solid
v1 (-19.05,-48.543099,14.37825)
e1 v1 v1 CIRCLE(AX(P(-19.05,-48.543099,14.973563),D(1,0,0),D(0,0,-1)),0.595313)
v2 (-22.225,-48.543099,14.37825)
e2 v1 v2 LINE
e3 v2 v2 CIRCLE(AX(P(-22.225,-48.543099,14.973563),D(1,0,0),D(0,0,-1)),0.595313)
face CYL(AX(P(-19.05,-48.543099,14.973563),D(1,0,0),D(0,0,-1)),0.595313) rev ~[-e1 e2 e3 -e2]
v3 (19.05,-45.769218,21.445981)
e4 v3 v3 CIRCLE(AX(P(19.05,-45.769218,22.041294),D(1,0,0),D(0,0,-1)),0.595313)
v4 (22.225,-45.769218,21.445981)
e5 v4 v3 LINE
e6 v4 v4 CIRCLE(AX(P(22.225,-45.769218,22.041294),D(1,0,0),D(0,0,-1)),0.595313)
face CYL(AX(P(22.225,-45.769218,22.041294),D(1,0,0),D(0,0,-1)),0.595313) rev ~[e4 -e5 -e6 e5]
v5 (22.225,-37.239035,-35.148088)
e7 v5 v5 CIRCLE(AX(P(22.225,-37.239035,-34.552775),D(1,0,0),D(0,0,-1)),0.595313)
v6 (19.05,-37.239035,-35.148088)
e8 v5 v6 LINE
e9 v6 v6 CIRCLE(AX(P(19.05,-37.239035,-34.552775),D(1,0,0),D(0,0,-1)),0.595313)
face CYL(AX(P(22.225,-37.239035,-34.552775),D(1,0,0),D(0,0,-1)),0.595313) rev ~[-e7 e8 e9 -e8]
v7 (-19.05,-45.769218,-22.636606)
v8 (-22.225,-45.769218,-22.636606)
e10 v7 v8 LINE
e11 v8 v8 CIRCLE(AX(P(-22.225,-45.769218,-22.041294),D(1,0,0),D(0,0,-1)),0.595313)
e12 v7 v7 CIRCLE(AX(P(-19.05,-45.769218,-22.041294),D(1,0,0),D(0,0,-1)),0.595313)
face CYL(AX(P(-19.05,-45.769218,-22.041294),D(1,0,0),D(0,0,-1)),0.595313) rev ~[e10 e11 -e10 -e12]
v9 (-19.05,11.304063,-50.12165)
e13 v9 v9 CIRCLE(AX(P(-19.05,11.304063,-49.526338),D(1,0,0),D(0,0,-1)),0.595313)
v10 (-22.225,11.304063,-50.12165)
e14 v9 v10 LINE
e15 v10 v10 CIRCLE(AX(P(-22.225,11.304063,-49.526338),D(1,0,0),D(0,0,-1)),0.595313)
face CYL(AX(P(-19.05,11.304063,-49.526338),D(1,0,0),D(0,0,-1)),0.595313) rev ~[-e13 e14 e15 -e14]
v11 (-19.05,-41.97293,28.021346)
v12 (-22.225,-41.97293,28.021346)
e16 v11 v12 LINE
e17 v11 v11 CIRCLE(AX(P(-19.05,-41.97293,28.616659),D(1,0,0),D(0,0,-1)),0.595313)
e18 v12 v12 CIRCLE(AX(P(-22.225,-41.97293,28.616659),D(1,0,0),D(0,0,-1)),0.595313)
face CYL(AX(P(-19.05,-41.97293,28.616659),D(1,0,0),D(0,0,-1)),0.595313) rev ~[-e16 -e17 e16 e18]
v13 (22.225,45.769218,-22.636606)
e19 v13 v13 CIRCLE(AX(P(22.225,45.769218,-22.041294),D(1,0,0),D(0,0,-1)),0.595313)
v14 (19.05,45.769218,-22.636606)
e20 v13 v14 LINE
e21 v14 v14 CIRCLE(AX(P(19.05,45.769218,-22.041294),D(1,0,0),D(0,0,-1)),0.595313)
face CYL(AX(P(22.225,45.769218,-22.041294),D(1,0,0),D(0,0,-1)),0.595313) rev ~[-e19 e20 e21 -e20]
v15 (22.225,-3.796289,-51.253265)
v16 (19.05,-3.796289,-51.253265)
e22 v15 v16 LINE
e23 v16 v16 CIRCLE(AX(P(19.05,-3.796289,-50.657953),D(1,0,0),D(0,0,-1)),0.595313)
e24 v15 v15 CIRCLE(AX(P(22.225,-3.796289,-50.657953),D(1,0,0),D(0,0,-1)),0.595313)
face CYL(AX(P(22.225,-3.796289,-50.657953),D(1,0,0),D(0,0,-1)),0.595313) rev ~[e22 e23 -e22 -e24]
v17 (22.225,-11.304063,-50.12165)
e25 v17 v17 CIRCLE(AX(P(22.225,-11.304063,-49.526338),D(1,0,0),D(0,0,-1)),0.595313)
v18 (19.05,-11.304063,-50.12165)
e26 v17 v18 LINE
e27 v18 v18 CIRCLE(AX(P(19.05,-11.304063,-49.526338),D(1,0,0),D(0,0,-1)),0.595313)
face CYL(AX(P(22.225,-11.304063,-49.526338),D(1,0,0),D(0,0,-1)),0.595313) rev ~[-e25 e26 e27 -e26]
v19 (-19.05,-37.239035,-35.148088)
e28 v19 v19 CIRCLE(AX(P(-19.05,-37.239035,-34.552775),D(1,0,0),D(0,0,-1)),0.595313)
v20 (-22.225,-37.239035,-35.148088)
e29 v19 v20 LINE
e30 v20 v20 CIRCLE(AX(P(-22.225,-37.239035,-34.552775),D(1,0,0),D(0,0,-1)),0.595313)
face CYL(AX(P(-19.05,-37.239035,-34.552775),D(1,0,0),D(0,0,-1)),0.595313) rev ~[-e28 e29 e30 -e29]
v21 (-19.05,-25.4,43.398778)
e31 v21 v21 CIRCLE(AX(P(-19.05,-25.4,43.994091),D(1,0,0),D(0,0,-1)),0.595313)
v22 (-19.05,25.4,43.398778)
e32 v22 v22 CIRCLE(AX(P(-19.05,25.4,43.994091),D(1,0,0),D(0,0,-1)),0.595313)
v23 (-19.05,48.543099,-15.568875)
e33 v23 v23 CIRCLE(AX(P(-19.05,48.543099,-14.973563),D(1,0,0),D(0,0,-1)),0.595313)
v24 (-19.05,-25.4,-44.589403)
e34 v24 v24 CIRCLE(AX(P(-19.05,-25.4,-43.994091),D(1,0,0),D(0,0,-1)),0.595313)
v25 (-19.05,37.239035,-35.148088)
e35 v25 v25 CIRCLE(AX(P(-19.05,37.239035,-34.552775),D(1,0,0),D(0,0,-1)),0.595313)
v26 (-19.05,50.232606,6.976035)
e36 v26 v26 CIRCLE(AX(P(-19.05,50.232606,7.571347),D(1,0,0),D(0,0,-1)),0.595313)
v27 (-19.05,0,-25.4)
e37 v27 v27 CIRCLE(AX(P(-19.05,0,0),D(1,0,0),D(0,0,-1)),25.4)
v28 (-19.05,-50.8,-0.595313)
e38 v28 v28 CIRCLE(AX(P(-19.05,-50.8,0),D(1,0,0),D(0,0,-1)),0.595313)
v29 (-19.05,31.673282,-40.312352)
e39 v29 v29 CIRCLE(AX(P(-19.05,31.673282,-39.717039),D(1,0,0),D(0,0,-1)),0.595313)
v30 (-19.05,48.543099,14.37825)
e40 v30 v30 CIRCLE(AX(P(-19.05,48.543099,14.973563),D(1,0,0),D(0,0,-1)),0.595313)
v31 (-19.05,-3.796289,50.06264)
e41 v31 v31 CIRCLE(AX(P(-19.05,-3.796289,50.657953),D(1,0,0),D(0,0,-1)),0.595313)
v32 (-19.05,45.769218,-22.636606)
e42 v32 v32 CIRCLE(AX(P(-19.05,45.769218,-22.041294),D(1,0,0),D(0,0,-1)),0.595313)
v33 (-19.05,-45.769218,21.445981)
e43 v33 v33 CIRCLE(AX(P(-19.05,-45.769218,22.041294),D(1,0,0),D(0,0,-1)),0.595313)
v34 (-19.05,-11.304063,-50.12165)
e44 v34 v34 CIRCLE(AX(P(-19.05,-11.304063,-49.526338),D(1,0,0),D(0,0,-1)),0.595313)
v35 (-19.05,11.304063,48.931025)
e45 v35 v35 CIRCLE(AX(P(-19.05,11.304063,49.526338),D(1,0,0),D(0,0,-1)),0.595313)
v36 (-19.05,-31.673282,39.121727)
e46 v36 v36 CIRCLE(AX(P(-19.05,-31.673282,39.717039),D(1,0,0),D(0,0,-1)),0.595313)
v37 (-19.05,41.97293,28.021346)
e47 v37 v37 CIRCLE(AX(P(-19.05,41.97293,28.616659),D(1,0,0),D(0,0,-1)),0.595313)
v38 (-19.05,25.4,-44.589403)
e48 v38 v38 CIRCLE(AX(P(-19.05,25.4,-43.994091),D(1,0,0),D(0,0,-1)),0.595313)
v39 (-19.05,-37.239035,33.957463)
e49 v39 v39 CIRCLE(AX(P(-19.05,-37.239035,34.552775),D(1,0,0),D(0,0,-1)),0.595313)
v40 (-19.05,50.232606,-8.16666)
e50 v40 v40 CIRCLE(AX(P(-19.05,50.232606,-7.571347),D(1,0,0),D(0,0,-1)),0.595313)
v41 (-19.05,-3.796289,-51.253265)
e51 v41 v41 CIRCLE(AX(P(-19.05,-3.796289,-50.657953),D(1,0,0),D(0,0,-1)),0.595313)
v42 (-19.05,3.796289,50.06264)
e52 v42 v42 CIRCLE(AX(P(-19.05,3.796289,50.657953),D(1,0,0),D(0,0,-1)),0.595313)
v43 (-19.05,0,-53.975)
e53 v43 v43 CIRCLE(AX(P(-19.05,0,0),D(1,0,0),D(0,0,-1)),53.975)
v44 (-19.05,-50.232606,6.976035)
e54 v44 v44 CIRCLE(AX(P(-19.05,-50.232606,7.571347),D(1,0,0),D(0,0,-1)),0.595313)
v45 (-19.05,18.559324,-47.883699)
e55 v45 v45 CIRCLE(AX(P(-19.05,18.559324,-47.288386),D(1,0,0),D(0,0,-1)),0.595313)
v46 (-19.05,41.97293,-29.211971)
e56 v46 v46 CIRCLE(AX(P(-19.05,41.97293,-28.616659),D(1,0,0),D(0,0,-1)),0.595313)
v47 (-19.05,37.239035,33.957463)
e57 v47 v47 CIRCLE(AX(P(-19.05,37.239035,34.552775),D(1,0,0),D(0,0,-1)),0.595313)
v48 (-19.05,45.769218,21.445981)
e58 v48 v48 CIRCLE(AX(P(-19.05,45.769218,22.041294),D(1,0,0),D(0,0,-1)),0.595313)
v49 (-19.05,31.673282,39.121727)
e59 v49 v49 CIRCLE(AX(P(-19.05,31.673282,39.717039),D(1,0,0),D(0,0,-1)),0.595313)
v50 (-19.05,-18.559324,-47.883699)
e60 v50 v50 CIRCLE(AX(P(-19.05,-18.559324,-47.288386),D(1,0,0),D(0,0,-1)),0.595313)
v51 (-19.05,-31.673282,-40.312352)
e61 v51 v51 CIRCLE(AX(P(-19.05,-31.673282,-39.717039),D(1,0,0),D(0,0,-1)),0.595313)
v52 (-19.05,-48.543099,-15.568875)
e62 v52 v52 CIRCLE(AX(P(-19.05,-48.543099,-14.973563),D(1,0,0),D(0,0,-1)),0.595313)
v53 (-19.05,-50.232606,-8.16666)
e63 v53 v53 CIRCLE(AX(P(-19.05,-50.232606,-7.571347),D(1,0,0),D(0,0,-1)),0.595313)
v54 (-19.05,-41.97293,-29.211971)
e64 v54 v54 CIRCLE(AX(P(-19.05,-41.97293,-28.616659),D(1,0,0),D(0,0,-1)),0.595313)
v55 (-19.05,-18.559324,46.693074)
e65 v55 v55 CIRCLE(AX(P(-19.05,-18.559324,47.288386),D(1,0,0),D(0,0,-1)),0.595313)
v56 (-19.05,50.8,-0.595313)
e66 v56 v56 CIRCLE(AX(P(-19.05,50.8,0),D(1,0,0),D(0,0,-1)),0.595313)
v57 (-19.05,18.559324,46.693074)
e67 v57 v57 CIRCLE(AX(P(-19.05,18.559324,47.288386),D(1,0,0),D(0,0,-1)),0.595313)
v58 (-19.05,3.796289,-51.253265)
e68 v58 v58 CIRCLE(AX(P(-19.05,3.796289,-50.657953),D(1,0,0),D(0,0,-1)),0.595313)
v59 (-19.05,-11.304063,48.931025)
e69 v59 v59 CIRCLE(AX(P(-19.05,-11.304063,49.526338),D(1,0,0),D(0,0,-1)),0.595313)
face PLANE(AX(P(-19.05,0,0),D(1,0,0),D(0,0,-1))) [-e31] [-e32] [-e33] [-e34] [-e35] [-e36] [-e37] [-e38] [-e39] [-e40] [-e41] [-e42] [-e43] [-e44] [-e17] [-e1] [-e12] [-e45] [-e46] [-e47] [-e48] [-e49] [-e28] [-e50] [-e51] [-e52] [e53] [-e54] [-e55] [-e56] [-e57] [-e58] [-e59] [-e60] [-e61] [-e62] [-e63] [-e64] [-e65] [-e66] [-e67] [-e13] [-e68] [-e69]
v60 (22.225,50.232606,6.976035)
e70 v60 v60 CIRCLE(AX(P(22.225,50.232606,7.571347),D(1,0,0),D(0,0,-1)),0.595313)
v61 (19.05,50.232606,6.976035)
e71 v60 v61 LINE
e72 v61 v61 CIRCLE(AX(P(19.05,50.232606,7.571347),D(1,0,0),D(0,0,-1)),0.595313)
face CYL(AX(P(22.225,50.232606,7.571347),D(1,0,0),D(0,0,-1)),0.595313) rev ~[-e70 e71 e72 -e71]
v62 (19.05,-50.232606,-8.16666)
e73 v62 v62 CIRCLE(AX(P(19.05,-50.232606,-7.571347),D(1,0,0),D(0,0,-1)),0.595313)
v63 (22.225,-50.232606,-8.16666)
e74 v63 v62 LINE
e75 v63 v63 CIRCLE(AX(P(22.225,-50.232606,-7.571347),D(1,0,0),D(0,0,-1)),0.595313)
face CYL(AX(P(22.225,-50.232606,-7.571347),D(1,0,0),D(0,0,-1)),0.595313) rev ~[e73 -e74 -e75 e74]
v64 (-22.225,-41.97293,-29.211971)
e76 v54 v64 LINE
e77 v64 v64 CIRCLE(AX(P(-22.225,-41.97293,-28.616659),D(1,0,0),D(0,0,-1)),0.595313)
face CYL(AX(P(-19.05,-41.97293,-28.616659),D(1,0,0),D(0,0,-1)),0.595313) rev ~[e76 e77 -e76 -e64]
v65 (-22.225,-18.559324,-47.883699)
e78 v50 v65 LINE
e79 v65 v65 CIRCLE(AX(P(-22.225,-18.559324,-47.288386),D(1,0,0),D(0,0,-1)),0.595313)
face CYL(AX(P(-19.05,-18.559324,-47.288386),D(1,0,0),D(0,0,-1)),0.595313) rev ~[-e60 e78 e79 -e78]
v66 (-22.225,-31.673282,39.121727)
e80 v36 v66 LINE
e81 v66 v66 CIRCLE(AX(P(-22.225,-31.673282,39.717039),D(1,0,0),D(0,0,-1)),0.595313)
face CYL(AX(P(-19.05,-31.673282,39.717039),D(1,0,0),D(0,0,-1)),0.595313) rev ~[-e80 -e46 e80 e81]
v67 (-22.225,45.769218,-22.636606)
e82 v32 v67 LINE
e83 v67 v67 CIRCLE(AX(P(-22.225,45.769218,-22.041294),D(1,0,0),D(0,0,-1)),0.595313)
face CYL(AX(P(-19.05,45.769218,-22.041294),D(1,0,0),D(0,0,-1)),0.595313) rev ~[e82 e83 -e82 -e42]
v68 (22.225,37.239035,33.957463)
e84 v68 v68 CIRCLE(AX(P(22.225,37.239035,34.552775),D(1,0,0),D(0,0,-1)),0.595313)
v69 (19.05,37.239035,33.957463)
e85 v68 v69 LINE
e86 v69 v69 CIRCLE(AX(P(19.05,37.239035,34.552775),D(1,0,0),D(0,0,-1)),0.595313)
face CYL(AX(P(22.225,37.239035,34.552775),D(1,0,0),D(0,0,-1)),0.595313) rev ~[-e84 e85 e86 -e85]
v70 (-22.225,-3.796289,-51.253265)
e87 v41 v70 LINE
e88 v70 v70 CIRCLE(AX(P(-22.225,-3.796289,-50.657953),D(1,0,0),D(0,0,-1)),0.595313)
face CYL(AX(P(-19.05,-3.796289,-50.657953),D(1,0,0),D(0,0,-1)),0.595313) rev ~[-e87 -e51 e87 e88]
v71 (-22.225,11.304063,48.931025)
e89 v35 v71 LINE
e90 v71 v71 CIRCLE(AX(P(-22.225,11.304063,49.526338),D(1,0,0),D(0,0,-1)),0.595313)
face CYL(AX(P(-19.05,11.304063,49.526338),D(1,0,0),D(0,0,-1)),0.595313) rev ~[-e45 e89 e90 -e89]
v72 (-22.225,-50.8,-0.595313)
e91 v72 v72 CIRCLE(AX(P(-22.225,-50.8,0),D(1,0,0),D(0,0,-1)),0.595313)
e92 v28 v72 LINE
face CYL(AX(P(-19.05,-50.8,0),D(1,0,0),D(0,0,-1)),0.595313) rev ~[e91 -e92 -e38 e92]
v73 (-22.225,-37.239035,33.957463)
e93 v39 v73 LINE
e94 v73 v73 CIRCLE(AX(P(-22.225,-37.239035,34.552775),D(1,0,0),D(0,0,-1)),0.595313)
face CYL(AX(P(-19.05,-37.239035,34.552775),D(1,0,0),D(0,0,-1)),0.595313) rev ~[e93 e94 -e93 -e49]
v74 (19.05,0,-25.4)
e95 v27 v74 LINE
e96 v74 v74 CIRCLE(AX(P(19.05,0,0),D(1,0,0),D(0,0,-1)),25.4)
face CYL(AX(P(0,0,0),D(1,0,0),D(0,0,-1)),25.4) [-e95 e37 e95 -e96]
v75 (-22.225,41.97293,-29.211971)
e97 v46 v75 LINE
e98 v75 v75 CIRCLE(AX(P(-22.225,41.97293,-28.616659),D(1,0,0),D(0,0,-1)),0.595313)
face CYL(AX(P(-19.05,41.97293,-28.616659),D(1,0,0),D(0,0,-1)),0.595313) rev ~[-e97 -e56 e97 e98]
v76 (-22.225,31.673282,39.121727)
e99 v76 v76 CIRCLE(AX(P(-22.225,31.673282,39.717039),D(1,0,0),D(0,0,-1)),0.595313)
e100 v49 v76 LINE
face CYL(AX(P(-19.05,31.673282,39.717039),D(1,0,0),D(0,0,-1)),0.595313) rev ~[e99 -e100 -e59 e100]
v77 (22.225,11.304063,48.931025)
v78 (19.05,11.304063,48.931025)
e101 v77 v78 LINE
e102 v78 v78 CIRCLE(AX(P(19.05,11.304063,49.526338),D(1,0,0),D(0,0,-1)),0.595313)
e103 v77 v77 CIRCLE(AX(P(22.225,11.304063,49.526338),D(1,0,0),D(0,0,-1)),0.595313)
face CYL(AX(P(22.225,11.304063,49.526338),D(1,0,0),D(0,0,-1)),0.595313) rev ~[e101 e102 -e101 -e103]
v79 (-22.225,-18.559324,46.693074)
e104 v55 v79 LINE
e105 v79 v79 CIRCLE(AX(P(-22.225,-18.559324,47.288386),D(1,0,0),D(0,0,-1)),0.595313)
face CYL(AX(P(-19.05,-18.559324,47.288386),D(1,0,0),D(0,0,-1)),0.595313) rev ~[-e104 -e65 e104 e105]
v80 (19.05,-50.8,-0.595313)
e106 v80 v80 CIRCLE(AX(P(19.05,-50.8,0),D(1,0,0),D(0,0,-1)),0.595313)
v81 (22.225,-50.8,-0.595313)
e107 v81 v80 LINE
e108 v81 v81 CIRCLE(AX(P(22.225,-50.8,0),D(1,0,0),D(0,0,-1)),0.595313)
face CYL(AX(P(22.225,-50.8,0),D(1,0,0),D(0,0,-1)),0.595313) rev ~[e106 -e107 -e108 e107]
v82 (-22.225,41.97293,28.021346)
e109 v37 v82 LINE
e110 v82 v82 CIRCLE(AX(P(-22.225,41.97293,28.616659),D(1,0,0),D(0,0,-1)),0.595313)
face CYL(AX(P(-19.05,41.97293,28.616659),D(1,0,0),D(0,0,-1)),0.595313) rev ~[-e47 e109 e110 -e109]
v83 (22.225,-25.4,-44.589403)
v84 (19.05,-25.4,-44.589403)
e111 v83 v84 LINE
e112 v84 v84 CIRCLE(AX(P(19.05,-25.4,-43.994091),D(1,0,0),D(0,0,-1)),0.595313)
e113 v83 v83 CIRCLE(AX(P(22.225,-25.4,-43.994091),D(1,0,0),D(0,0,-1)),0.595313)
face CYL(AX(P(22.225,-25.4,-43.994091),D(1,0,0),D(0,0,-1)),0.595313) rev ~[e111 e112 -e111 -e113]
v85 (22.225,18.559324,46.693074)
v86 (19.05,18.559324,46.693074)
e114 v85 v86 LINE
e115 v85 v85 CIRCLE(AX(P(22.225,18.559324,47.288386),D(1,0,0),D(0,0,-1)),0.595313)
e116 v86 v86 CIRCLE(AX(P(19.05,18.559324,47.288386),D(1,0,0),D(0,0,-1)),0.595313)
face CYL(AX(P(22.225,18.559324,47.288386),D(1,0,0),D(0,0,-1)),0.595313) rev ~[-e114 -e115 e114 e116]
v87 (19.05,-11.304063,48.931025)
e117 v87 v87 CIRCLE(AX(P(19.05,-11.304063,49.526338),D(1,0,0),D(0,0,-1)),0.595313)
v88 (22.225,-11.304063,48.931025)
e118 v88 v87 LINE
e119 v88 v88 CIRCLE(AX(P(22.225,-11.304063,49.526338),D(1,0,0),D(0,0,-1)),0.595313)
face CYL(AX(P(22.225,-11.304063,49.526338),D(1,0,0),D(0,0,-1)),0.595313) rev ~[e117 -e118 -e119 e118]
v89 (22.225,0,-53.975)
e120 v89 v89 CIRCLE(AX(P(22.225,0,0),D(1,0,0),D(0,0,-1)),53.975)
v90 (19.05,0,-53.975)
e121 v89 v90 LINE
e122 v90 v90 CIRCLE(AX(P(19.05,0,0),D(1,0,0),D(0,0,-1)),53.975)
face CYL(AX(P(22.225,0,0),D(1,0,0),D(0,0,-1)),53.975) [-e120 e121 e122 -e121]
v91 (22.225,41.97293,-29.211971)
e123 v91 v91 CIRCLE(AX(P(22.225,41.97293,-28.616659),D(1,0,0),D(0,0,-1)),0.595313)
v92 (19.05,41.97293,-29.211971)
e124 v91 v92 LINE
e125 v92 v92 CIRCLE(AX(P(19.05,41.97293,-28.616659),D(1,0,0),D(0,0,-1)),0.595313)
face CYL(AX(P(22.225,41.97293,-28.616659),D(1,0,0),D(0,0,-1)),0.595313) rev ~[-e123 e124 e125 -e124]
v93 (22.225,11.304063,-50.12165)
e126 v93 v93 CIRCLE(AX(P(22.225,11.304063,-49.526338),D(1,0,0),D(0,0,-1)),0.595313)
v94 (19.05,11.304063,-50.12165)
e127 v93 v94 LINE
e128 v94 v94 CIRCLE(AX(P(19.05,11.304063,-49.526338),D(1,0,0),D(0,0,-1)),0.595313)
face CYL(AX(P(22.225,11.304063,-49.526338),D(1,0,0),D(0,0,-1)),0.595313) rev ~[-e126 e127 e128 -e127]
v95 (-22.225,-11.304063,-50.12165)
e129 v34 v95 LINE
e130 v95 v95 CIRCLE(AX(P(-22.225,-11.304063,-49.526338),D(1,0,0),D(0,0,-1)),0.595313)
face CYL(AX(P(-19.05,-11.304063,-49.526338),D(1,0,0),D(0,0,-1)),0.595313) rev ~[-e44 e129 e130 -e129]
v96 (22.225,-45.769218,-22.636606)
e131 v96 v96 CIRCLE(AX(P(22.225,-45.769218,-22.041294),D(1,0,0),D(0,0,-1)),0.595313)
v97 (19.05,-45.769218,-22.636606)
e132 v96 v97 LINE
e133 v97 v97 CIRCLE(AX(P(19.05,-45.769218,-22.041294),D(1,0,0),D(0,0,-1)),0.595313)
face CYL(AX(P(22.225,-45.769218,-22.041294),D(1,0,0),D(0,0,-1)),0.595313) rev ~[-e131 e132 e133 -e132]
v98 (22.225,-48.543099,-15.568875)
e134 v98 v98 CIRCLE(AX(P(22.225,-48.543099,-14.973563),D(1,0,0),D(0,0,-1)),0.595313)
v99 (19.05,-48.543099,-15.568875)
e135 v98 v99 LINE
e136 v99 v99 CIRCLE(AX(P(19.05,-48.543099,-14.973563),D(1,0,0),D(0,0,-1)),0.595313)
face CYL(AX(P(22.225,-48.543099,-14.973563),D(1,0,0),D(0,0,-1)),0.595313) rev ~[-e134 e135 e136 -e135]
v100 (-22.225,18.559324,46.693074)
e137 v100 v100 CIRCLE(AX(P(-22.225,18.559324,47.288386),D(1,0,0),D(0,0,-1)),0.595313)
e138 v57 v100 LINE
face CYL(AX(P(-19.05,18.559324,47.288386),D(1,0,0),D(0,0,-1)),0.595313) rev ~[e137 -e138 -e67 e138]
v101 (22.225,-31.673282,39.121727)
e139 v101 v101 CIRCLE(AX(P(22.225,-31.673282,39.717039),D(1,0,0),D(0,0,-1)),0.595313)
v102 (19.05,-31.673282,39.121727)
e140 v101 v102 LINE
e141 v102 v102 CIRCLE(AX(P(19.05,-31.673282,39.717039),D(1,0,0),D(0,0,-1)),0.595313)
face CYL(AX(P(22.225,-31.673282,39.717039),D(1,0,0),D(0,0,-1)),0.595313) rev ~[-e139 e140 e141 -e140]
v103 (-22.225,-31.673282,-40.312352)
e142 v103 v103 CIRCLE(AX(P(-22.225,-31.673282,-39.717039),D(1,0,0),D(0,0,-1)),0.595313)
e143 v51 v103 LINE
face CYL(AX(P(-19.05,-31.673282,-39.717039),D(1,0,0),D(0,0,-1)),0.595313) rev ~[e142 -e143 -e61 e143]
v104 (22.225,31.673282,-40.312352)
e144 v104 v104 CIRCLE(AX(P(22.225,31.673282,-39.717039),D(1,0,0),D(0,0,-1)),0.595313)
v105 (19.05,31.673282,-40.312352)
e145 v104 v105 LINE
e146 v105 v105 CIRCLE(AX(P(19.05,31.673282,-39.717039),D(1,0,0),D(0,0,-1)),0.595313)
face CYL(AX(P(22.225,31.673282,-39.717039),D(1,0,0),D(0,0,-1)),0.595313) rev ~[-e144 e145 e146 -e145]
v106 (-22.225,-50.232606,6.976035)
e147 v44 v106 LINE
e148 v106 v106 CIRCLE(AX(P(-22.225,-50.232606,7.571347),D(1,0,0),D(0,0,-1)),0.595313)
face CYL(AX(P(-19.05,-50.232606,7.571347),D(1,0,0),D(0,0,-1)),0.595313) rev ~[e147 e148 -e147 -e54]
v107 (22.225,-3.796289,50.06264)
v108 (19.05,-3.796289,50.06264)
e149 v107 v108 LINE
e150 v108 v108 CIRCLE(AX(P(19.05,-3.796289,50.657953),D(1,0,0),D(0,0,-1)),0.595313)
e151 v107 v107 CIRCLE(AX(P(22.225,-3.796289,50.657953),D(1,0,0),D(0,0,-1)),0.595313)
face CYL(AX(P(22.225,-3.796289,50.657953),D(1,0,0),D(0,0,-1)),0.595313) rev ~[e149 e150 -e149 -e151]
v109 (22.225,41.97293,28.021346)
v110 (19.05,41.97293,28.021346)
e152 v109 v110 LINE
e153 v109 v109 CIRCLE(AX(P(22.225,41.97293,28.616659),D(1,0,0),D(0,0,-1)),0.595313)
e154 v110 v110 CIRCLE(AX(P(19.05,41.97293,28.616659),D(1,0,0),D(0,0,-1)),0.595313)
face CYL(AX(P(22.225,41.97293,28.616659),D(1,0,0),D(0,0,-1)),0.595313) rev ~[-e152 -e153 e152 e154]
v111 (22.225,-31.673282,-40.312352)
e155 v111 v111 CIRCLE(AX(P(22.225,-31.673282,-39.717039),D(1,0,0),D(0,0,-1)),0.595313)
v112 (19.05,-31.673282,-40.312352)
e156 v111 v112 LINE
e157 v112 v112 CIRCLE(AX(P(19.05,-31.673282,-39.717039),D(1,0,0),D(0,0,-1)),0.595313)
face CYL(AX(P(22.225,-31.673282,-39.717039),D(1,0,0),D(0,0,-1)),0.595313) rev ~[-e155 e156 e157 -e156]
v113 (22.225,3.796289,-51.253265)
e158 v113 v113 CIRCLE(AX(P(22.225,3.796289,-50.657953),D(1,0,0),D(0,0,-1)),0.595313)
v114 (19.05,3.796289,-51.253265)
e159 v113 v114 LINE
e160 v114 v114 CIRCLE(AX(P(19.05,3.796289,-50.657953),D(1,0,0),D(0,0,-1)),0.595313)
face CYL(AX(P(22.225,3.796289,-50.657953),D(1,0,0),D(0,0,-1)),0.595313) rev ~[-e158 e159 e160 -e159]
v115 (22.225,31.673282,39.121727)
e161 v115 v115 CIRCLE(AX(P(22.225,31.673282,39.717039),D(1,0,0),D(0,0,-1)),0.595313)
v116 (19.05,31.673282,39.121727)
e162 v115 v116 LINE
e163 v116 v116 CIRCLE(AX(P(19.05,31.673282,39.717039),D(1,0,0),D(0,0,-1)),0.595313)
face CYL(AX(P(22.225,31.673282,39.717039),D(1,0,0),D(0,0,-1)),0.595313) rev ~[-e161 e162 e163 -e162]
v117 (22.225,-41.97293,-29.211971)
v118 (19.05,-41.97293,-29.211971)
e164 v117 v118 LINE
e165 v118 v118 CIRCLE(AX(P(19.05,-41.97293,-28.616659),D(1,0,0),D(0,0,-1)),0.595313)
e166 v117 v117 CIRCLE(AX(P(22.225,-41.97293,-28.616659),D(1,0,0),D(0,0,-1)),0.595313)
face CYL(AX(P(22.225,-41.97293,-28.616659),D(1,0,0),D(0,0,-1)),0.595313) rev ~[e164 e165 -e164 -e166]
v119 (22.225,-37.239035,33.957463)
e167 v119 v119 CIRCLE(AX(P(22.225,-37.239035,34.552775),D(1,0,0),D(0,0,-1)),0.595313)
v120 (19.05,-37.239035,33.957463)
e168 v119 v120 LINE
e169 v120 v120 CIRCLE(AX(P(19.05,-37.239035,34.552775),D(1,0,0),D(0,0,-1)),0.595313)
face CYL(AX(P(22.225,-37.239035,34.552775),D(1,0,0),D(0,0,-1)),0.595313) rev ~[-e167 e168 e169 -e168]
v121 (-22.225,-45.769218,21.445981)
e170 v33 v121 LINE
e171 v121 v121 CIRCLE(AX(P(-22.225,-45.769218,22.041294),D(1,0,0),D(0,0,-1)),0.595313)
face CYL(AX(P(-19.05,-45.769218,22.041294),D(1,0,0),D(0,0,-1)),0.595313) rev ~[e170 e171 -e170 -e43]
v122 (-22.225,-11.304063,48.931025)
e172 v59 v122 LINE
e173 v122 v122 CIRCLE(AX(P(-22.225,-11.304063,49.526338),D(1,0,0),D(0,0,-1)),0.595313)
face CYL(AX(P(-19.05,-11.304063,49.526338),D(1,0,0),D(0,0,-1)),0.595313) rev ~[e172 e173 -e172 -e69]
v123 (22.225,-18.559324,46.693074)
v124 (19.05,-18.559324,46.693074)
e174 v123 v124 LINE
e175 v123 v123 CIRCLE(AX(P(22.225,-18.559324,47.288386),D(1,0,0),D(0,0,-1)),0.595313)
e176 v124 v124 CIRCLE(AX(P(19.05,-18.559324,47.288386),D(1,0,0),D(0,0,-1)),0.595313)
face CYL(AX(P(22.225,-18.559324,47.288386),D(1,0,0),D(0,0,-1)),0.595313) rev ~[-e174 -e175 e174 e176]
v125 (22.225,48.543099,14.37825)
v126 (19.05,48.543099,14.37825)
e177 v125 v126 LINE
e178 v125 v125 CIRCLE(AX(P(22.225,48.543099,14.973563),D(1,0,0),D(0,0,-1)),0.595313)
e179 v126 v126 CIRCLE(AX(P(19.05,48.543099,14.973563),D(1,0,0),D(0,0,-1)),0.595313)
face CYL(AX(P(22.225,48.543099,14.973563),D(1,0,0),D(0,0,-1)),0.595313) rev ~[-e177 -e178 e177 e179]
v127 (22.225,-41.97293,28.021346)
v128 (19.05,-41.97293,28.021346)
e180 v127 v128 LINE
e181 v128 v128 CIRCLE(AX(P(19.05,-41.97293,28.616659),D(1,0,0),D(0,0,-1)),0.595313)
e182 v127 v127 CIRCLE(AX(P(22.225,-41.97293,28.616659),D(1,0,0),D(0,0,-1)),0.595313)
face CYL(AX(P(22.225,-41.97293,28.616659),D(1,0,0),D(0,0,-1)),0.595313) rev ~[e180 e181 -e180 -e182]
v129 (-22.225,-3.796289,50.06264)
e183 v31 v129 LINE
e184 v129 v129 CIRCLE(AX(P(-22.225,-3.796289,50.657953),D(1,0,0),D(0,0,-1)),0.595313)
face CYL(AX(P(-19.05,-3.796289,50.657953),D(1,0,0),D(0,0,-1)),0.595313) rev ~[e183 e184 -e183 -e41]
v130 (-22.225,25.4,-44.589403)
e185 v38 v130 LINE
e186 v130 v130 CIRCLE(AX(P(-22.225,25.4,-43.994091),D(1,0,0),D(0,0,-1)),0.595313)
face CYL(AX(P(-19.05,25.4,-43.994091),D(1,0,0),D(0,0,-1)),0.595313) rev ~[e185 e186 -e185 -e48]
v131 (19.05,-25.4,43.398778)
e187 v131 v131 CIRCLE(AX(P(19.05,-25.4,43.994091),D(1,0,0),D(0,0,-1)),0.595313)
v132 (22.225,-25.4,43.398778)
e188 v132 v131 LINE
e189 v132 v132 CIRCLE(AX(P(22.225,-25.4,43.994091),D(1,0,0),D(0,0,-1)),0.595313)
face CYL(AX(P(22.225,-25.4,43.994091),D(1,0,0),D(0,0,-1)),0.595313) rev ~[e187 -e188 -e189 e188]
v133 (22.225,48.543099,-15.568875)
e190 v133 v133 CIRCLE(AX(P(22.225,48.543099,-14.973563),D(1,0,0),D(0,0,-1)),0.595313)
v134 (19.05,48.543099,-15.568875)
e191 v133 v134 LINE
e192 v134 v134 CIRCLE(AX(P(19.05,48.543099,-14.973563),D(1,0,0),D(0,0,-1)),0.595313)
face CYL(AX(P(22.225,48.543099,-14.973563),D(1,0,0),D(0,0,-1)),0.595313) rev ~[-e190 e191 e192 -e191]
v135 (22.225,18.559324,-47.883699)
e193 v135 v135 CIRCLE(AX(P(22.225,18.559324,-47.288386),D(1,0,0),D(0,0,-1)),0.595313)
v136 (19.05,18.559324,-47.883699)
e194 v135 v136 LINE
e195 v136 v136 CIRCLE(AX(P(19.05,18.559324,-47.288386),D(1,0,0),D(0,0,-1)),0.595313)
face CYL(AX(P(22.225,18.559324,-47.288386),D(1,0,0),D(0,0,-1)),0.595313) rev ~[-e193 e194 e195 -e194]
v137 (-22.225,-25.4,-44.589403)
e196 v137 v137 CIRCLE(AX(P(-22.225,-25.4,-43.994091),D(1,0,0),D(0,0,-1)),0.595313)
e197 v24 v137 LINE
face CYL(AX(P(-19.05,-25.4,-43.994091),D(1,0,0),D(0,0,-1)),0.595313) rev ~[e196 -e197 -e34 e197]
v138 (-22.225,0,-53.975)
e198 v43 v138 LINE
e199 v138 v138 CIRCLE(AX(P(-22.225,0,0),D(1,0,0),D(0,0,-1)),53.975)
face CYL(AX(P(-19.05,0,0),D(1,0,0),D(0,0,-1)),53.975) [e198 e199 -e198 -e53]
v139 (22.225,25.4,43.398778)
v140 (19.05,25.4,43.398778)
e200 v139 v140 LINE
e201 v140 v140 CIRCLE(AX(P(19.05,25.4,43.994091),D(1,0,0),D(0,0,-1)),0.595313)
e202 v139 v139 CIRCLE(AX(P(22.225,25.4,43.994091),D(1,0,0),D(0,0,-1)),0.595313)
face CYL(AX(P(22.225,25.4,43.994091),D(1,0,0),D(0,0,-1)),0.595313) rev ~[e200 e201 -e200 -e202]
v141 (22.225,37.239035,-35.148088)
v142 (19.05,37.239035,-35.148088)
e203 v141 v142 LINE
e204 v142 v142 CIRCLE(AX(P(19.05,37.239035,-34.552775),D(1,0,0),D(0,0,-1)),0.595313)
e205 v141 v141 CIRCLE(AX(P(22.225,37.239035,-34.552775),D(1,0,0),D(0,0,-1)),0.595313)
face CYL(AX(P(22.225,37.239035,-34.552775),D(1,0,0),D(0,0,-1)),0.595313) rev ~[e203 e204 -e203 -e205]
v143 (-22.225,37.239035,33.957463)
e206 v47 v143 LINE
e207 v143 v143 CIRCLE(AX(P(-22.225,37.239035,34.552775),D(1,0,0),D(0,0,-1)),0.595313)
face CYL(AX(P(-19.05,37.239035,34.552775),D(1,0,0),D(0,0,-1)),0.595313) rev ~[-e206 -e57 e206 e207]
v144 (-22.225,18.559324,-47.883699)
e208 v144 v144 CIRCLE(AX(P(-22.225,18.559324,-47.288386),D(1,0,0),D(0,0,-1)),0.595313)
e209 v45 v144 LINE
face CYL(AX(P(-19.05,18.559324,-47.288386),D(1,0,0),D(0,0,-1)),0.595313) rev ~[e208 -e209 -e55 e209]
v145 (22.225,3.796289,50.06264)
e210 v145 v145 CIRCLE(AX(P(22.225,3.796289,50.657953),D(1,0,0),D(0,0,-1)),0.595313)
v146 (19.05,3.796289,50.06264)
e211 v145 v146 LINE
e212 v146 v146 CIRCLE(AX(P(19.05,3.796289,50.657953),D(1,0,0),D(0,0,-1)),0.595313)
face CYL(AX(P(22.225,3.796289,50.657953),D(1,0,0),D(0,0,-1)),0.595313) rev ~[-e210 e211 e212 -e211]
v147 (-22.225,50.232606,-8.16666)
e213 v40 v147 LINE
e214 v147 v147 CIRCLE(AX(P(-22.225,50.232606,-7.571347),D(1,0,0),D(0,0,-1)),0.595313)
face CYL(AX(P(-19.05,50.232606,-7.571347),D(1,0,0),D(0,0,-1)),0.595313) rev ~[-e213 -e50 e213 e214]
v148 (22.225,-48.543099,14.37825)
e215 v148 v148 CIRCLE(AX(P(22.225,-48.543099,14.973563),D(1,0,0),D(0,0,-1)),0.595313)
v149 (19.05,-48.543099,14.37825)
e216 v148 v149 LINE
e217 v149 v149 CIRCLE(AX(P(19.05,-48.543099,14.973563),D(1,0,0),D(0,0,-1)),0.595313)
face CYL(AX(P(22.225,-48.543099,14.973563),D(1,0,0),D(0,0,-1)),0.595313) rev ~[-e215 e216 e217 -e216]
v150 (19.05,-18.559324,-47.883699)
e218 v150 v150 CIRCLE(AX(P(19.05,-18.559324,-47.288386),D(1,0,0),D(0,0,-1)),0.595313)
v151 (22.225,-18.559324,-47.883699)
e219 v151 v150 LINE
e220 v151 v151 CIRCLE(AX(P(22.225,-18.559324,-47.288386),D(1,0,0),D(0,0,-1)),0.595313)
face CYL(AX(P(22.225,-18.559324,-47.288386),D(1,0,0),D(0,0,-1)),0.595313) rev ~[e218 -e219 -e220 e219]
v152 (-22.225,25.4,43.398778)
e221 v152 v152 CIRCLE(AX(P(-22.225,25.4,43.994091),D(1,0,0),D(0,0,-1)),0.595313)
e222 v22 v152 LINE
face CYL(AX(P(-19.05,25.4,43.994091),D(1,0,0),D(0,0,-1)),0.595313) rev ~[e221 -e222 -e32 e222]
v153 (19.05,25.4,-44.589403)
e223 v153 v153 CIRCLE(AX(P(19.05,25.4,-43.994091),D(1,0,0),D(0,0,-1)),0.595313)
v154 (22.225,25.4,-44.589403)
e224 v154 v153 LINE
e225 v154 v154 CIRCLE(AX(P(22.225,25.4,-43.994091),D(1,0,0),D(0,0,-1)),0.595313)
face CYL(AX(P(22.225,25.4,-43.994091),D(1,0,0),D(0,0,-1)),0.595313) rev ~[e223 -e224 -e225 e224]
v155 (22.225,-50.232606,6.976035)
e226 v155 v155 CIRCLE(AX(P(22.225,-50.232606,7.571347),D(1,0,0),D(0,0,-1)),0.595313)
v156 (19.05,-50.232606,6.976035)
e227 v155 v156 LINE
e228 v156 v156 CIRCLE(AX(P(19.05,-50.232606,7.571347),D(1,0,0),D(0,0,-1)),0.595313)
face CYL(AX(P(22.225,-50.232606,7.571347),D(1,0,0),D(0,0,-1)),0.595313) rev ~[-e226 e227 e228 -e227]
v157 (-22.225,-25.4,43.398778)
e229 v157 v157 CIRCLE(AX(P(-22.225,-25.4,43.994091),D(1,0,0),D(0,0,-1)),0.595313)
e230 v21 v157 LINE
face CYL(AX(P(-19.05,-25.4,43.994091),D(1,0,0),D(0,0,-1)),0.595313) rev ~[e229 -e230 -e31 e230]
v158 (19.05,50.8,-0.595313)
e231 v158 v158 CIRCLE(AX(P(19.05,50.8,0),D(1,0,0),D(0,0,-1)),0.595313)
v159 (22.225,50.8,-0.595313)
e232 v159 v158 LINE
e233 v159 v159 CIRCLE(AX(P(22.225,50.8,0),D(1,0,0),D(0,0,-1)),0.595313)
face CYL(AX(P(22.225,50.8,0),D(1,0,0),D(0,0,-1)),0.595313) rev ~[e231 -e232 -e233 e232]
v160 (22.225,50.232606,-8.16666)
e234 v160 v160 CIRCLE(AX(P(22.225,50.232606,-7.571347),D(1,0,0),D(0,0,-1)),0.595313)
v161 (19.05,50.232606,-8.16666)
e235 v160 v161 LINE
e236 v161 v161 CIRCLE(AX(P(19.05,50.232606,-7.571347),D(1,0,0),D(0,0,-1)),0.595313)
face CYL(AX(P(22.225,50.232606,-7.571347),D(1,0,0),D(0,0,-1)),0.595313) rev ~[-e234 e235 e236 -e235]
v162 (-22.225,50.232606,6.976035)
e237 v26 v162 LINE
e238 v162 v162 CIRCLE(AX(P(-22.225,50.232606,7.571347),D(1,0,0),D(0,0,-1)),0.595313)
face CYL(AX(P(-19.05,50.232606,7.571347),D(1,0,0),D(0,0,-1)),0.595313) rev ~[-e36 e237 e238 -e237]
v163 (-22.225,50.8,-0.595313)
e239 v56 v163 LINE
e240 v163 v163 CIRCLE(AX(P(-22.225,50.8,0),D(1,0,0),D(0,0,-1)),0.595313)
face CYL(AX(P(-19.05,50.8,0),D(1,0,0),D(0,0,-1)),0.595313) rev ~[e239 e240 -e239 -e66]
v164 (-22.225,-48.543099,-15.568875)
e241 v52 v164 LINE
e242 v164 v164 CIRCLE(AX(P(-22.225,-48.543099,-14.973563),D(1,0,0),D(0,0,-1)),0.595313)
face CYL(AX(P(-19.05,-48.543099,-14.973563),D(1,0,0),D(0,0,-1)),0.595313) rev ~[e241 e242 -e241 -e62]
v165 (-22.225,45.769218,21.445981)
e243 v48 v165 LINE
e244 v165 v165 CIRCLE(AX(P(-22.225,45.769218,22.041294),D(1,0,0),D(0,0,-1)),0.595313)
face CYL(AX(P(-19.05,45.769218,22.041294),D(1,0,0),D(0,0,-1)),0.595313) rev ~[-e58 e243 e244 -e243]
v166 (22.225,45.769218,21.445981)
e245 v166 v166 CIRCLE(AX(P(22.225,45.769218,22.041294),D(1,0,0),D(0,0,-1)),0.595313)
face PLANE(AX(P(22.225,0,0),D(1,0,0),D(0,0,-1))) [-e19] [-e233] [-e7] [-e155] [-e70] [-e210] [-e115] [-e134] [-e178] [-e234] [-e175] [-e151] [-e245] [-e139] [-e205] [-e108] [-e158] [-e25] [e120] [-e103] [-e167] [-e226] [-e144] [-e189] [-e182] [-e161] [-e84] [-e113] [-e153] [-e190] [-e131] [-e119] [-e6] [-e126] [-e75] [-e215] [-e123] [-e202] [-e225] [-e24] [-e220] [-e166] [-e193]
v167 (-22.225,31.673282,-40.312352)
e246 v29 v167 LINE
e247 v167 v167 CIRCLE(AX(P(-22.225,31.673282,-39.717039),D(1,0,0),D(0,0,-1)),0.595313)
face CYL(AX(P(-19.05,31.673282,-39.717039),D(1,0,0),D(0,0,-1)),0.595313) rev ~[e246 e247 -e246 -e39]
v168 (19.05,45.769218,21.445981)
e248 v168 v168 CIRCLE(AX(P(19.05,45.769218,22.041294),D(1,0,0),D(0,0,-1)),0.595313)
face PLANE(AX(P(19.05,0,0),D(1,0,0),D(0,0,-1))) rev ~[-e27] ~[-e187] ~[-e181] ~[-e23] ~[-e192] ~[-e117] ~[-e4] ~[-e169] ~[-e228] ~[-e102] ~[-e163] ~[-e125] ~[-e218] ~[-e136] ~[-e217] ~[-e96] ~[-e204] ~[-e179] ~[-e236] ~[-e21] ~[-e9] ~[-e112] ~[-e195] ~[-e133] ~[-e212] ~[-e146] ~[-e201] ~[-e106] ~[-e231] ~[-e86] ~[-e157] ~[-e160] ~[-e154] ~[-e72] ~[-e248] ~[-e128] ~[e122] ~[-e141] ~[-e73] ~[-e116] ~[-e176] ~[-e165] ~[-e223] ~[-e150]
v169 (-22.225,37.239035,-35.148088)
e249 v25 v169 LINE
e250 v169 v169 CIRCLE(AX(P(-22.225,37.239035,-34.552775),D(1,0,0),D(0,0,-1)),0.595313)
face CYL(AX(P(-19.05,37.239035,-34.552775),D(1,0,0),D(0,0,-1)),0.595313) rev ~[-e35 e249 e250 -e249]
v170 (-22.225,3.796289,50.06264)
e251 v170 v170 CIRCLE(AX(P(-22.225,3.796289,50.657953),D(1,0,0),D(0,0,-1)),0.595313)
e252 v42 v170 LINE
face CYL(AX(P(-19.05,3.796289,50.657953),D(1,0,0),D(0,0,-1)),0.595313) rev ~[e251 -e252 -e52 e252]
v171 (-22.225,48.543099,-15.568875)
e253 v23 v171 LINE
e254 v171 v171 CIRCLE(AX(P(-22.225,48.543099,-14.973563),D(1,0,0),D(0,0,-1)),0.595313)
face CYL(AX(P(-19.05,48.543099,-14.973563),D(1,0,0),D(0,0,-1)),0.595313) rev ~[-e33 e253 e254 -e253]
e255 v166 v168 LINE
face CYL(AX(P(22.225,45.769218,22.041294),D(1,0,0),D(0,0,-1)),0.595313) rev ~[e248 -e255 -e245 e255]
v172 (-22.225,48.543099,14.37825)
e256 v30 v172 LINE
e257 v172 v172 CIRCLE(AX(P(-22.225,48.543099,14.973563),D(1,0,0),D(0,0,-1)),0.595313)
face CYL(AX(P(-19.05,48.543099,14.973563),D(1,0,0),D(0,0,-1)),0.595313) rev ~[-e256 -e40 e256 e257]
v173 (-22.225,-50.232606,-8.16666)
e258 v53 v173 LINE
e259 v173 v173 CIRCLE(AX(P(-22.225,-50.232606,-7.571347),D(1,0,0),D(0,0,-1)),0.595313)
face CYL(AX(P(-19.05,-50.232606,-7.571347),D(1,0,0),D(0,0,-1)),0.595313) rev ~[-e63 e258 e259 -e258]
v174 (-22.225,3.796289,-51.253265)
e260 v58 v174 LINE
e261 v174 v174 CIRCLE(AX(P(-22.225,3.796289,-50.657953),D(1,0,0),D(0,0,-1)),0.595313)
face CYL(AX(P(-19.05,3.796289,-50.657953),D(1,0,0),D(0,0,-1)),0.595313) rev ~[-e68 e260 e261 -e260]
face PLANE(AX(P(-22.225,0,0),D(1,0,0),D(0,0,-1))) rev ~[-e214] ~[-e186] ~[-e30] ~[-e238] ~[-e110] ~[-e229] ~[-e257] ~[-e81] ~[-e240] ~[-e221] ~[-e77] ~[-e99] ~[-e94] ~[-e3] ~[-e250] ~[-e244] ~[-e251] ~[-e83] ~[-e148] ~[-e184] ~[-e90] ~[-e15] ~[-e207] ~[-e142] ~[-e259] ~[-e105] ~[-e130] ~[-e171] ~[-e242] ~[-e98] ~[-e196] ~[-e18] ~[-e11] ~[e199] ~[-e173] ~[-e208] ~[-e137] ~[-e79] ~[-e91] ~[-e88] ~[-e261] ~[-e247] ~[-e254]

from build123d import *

# Parameters (mm, degrees)
SKETCH1_R           = 25.4
BOSS_EXTRUDE1_DEPTH = 22.225
BOSS_EXTRUDE2_START = 22.225
SKETCH1_3_R         = 53.975
SKETCH1_3_R_2       = 0.5953125
BOSS_EXTRUDE2_DEPTH = 3.175
BOSS_EXTRUDE3_START = -19.05
SKETCH1_4_R         = 53.975
SKETCH1_4_R_2       = 25.4
SKETCH1_4_R_3       = 0.5953125
BOSS_EXTRUDE3_DEPTH = 3.175


with BuildPart() as part:
    # Sketch1 → Boss-Extrude1 (new, symmetric)
    with BuildSketch(Plane(origin=(0, 0, 0), x_dir=(0, 0, -1), z_dir=(1, 0, 0))):
        Circle(SKETCH1_R)
    extrude(amount=BOSS_EXTRUDE1_DEPTH, both=True)

    # Sketch1<3> → Boss-Extrude2 (add)
    with BuildSketch(Plane(origin=(0, 0, 0), x_dir=(0, 0, -1), z_dir=(1, 0, 0)).offset(BOSS_EXTRUDE2_START)):
        Circle(SKETCH1_3_R)
        with Locations((0, 50.8)):
            Circle(SKETCH1_3_R_2, mode=Mode.SUBTRACT)
        with Locations((7.571347122, 50.232605972)):
            Circle(SKETCH1_3_R_2, mode=Mode.SUBTRACT)
        with Locations((14.97356286, 48.543098534)):
            Circle(SKETCH1_3_R_2, mode=Mode.SUBTRACT)
        with Locations((22.041293947, 45.769218489)):
            Circle(SKETCH1_3_R_2, mode=Mode.SUBTRACT)
        with Locations((28.61665895, 41.972929735)):
            Circle(SKETCH1_3_R_2, mode=Mode.SUBTRACT)
        with Locations((34.552775079, 37.239035089)):
            Circle(SKETCH1_3_R_2, mode=Mode.SUBTRACT)
        with Locations((39.717039309, 31.673281934)):
            Circle(SKETCH1_3_R_2, mode=Mode.SUBTRACT)
        with Locations((43.994090512, 25.4)):
            Circle(SKETCH1_3_R_2, mode=Mode.SUBTRACT)
        with Locations((47.288386431, 18.559324038)):
            Circle(SKETCH1_3_R_2, mode=Mode.SUBTRACT)
        with Locations((49.526337939, 11.304063445)):
            Circle(SKETCH1_3_R_2, mode=Mode.SUBTRACT)
        with Locations((50.657952897, 3.796288754)):
            Circle(SKETCH1_3_R_2, mode=Mode.SUBTRACT)
        with Locations((50.657952897, -3.796288754)):
            Circle(SKETCH1_3_R_2, mode=Mode.SUBTRACT)
        with Locations((49.526337939, -11.304063445)):
            Circle(SKETCH1_3_R_2, mode=Mode.SUBTRACT)
        with Locations((47.288386431, -18.559324038)):
            Circle(SKETCH1_3_R_2, mode=Mode.SUBTRACT)
        with Locations((43.994090512, -25.4)):
            Circle(SKETCH1_3_R_2, mode=Mode.SUBTRACT)
        with Locations((39.717039309, -31.673281934)):
            Circle(SKETCH1_3_R_2, mode=Mode.SUBTRACT)
        with Locations((34.552775079, -37.239035089)):
            Circle(SKETCH1_3_R_2, mode=Mode.SUBTRACT)
        with Locations((28.61665895, -41.972929735)):
            Circle(SKETCH1_3_R_2, mode=Mode.SUBTRACT)
        with Locations((22.041293947, -45.769218489)):
            Circle(SKETCH1_3_R_2, mode=Mode.SUBTRACT)
        with Locations((14.97356286, -48.543098534)):
            Circle(SKETCH1_3_R_2, mode=Mode.SUBTRACT)
        with Locations((7.571347122, -50.232605972)):
            Circle(SKETCH1_3_R_2, mode=Mode.SUBTRACT)
        with Locations((0, -50.8)):
            Circle(SKETCH1_3_R_2, mode=Mode.SUBTRACT)
        with Locations((-7.571347122, -50.232605972)):
            Circle(SKETCH1_3_R_2, mode=Mode.SUBTRACT)
        with Locations((-14.97356286, -48.543098534)):
            Circle(SKETCH1_3_R_2, mode=Mode.SUBTRACT)
        with Locations((-22.041293947, -45.769218489)):
            Circle(SKETCH1_3_R_2, mode=Mode.SUBTRACT)
        with Locations((-28.61665895, -41.972929735)):
            Circle(SKETCH1_3_R_2, mode=Mode.SUBTRACT)
        with Locations((-34.552775079, -37.239035089)):
            Circle(SKETCH1_3_R_2, mode=Mode.SUBTRACT)
        with Locations((-39.717039309, -31.673281934)):
            Circle(SKETCH1_3_R_2, mode=Mode.SUBTRACT)
        with Locations((-43.994090512, -25.4)):
            Circle(SKETCH1_3_R_2, mode=Mode.SUBTRACT)
        with Locations((-47.288386431, -18.559324038)):
            Circle(SKETCH1_3_R_2, mode=Mode.SUBTRACT)
        with Locations((-49.526337939, -11.304063445)):
            Circle(SKETCH1_3_R_2, mode=Mode.SUBTRACT)
        with Locations((-50.657952897, -3.796288754)):
            Circle(SKETCH1_3_R_2, mode=Mode.SUBTRACT)
        with Locations((-50.657952897, 3.796288754)):
            Circle(SKETCH1_3_R_2, mode=Mode.SUBTRACT)
        with Locations((-49.526337939, 11.304063445)):
            Circle(SKETCH1_3_R_2, mode=Mode.SUBTRACT)
        with Locations((-47.288386431, 18.559324038)):
            Circle(SKETCH1_3_R_2, mode=Mode.SUBTRACT)
        with Locations((-43.994090512, 25.4)):
            Circle(SKETCH1_3_R_2, mode=Mode.SUBTRACT)
        with Locations((-39.717039309, 31.673281934)):
            Circle(SKETCH1_3_R_2, mode=Mode.SUBTRACT)
        with Locations((-34.552775079, 37.239035089)):
            Circle(SKETCH1_3_R_2, mode=Mode.SUBTRACT)
        with Locations((-28.61665895, 41.972929735)):
            Circle(SKETCH1_3_R_2, mode=Mode.SUBTRACT)
        with Locations((-22.041293947, 45.769218489)):
            Circle(SKETCH1_3_R_2, mode=Mode.SUBTRACT)
        with Locations((-14.97356286, 48.543098534)):
            Circle(SKETCH1_3_R_2, mode=Mode.SUBTRACT)
        with Locations((-7.571347122, 50.232605972)):
            Circle(SKETCH1_3_R_2, mode=Mode.SUBTRACT)
    extrude(amount=-BOSS_EXTRUDE2_DEPTH)

    # Sketch1<4> → Boss-Extrude3 (add)
    with BuildSketch(Plane(origin=(0, 0, 0), x_dir=(0, 0, -1), z_dir=(1, 0, 0)).offset(BOSS_EXTRUDE3_START)):
        Circle(SKETCH1_4_R)
        Circle(SKETCH1_4_R_2, mode=Mode.SUBTRACT)
        with Locations((0, 50.8)):
            Circle(SKETCH1_4_R_3, mode=Mode.SUBTRACT)
        with Locations((7.571347122, 50.232605972)):
            Circle(SKETCH1_4_R_3, mode=Mode.SUBTRACT)
        with Locations((14.97356286, 48.543098534)):
            Circle(SKETCH1_4_R_3, mode=Mode.SUBTRACT)
        with Locations((22.041293947, 45.769218489)):
            Circle(SKETCH1_4_R_3, mode=Mode.SUBTRACT)
        with Locations((28.61665895, 41.972929735)):
            Circle(SKETCH1_4_R_3, mode=Mode.SUBTRACT)
        with Locations((34.552775079, 37.239035089)):
            Circle(SKETCH1_4_R_3, mode=Mode.SUBTRACT)
        with Locations((39.717039309, 31.673281934)):
            Circle(SKETCH1_4_R_3, mode=Mode.SUBTRACT)
        with Locations((43.994090512, 25.4)):
            Circle(SKETCH1_4_R_3, mode=Mode.SUBTRACT)
        with Locations((47.288386431, 18.559324038)):
            Circle(SKETCH1_4_R_3, mode=Mode.SUBTRACT)
        with Locations((49.526337939, 11.304063445)):
            Circle(SKETCH1_4_R_3, mode=Mode.SUBTRACT)
        with Locations((50.657952897, 3.796288754)):
            Circle(SKETCH1_4_R_3, mode=Mode.SUBTRACT)
        with Locations((50.657952897, -3.796288754)):
            Circle(SKETCH1_4_R_3, mode=Mode.SUBTRACT)
        with Locations((49.526337939, -11.304063445)):
            Circle(SKETCH1_4_R_3, mode=Mode.SUBTRACT)
        with Locations((47.288386431, -18.559324038)):
            Circle(SKETCH1_4_R_3, mode=Mode.SUBTRACT)
        with Locations((43.994090512, -25.4)):
            Circle(SKETCH1_4_R_3, mode=Mode.SUBTRACT)
        with Locations((39.717039309, -31.673281934)):
            Circle(SKETCH1_4_R_3, mode=Mode.SUBTRACT)
        with Locations((34.552775079, -37.239035089)):
            Circle(SKETCH1_4_R_3, mode=Mode.SUBTRACT)
        with Locations((28.61665895, -41.972929735)):
            Circle(SKETCH1_4_R_3, mode=Mode.SUBTRACT)
        with Locations((22.041293947, -45.769218489)):
            Circle(SKETCH1_4_R_3, mode=Mode.SUBTRACT)
        with Locations((14.97356286, -48.543098534)):
            Circle(SKETCH1_4_R_3, mode=Mode.SUBTRACT)
        with Locations((7.571347122, -50.232605972)):
            Circle(SKETCH1_4_R_3, mode=Mode.SUBTRACT)
        with Locations((0, -50.8)):
            Circle(SKETCH1_4_R_3, mode=Mode.SUBTRACT)
        with Locations((-7.571347122, -50.232605972)):
            Circle(SKETCH1_4_R_3, mode=Mode.SUBTRACT)
        with Locations((-14.97356286, -48.543098534)):
            Circle(SKETCH1_4_R_3, mode=Mode.SUBTRACT)
        with Locations((-22.041293947, -45.769218489)):
            Circle(SKETCH1_4_R_3, mode=Mode.SUBTRACT)
        with Locations((-28.61665895, -41.972929735)):
            Circle(SKETCH1_4_R_3, mode=Mode.SUBTRACT)
        with Locations((-34.552775079, -37.239035089)):
            Circle(SKETCH1_4_R_3, mode=Mode.SUBTRACT)
        with Locations((-39.717039309, -31.673281934)):
            Circle(SKETCH1_4_R_3, mode=Mode.SUBTRACT)
        with Locations((-43.994090512, -25.4)):
            Circle(SKETCH1_4_R_3, mode=Mode.SUBTRACT)
        with Locations((-47.288386431, -18.559324038)):
            Circle(SKETCH1_4_R_3, mode=Mode.SUBTRACT)
        with Locations((-49.526337939, -11.304063445)):
            Circle(SKETCH1_4_R_3, mode=Mode.SUBTRACT)
        with Locations((-50.657952897, -3.796288754)):
            Circle(SKETCH1_4_R_3, mode=Mode.SUBTRACT)
        with Locations((-50.657952897, 3.796288754)):
            Circle(SKETCH1_4_R_3, mode=Mode.SUBTRACT)
        with Locations((-49.526337939, 11.304063445)):
            Circle(SKETCH1_4_R_3, mode=Mode.SUBTRACT)
        with Locations((-47.288386431, 18.559324038)):
            Circle(SKETCH1_4_R_3, mode=Mode.SUBTRACT)
        with Locations((-43.994090512, 25.4)):
            Circle(SKETCH1_4_R_3, mode=Mode.SUBTRACT)
        with Locations((-39.717039309, 31.673281934)):
            Circle(SKETCH1_4_R_3, mode=Mode.SUBTRACT)
        with Locations((-34.552775079, 37.239035089)):
            Circle(SKETCH1_4_R_3, mode=Mode.SUBTRACT)
        with Locations((-28.61665895, 41.972929735)):
            Circle(SKETCH1_4_R_3, mode=Mode.SUBTRACT)
        with Locations((-22.041293947, 45.769218489)):
            Circle(SKETCH1_4_R_3, mode=Mode.SUBTRACT)
        with Locations((-14.97356286, 48.543098534)):
            Circle(SKETCH1_4_R_3, mode=Mode.SUBTRACT)
        with Locations((-7.571347122, 50.232605972)):
            Circle(SKETCH1_4_R_3, mode=Mode.SUBTRACT)
    extrude(amount=-BOSS_EXTRUDE3_DEPTH)


solid = part.part
